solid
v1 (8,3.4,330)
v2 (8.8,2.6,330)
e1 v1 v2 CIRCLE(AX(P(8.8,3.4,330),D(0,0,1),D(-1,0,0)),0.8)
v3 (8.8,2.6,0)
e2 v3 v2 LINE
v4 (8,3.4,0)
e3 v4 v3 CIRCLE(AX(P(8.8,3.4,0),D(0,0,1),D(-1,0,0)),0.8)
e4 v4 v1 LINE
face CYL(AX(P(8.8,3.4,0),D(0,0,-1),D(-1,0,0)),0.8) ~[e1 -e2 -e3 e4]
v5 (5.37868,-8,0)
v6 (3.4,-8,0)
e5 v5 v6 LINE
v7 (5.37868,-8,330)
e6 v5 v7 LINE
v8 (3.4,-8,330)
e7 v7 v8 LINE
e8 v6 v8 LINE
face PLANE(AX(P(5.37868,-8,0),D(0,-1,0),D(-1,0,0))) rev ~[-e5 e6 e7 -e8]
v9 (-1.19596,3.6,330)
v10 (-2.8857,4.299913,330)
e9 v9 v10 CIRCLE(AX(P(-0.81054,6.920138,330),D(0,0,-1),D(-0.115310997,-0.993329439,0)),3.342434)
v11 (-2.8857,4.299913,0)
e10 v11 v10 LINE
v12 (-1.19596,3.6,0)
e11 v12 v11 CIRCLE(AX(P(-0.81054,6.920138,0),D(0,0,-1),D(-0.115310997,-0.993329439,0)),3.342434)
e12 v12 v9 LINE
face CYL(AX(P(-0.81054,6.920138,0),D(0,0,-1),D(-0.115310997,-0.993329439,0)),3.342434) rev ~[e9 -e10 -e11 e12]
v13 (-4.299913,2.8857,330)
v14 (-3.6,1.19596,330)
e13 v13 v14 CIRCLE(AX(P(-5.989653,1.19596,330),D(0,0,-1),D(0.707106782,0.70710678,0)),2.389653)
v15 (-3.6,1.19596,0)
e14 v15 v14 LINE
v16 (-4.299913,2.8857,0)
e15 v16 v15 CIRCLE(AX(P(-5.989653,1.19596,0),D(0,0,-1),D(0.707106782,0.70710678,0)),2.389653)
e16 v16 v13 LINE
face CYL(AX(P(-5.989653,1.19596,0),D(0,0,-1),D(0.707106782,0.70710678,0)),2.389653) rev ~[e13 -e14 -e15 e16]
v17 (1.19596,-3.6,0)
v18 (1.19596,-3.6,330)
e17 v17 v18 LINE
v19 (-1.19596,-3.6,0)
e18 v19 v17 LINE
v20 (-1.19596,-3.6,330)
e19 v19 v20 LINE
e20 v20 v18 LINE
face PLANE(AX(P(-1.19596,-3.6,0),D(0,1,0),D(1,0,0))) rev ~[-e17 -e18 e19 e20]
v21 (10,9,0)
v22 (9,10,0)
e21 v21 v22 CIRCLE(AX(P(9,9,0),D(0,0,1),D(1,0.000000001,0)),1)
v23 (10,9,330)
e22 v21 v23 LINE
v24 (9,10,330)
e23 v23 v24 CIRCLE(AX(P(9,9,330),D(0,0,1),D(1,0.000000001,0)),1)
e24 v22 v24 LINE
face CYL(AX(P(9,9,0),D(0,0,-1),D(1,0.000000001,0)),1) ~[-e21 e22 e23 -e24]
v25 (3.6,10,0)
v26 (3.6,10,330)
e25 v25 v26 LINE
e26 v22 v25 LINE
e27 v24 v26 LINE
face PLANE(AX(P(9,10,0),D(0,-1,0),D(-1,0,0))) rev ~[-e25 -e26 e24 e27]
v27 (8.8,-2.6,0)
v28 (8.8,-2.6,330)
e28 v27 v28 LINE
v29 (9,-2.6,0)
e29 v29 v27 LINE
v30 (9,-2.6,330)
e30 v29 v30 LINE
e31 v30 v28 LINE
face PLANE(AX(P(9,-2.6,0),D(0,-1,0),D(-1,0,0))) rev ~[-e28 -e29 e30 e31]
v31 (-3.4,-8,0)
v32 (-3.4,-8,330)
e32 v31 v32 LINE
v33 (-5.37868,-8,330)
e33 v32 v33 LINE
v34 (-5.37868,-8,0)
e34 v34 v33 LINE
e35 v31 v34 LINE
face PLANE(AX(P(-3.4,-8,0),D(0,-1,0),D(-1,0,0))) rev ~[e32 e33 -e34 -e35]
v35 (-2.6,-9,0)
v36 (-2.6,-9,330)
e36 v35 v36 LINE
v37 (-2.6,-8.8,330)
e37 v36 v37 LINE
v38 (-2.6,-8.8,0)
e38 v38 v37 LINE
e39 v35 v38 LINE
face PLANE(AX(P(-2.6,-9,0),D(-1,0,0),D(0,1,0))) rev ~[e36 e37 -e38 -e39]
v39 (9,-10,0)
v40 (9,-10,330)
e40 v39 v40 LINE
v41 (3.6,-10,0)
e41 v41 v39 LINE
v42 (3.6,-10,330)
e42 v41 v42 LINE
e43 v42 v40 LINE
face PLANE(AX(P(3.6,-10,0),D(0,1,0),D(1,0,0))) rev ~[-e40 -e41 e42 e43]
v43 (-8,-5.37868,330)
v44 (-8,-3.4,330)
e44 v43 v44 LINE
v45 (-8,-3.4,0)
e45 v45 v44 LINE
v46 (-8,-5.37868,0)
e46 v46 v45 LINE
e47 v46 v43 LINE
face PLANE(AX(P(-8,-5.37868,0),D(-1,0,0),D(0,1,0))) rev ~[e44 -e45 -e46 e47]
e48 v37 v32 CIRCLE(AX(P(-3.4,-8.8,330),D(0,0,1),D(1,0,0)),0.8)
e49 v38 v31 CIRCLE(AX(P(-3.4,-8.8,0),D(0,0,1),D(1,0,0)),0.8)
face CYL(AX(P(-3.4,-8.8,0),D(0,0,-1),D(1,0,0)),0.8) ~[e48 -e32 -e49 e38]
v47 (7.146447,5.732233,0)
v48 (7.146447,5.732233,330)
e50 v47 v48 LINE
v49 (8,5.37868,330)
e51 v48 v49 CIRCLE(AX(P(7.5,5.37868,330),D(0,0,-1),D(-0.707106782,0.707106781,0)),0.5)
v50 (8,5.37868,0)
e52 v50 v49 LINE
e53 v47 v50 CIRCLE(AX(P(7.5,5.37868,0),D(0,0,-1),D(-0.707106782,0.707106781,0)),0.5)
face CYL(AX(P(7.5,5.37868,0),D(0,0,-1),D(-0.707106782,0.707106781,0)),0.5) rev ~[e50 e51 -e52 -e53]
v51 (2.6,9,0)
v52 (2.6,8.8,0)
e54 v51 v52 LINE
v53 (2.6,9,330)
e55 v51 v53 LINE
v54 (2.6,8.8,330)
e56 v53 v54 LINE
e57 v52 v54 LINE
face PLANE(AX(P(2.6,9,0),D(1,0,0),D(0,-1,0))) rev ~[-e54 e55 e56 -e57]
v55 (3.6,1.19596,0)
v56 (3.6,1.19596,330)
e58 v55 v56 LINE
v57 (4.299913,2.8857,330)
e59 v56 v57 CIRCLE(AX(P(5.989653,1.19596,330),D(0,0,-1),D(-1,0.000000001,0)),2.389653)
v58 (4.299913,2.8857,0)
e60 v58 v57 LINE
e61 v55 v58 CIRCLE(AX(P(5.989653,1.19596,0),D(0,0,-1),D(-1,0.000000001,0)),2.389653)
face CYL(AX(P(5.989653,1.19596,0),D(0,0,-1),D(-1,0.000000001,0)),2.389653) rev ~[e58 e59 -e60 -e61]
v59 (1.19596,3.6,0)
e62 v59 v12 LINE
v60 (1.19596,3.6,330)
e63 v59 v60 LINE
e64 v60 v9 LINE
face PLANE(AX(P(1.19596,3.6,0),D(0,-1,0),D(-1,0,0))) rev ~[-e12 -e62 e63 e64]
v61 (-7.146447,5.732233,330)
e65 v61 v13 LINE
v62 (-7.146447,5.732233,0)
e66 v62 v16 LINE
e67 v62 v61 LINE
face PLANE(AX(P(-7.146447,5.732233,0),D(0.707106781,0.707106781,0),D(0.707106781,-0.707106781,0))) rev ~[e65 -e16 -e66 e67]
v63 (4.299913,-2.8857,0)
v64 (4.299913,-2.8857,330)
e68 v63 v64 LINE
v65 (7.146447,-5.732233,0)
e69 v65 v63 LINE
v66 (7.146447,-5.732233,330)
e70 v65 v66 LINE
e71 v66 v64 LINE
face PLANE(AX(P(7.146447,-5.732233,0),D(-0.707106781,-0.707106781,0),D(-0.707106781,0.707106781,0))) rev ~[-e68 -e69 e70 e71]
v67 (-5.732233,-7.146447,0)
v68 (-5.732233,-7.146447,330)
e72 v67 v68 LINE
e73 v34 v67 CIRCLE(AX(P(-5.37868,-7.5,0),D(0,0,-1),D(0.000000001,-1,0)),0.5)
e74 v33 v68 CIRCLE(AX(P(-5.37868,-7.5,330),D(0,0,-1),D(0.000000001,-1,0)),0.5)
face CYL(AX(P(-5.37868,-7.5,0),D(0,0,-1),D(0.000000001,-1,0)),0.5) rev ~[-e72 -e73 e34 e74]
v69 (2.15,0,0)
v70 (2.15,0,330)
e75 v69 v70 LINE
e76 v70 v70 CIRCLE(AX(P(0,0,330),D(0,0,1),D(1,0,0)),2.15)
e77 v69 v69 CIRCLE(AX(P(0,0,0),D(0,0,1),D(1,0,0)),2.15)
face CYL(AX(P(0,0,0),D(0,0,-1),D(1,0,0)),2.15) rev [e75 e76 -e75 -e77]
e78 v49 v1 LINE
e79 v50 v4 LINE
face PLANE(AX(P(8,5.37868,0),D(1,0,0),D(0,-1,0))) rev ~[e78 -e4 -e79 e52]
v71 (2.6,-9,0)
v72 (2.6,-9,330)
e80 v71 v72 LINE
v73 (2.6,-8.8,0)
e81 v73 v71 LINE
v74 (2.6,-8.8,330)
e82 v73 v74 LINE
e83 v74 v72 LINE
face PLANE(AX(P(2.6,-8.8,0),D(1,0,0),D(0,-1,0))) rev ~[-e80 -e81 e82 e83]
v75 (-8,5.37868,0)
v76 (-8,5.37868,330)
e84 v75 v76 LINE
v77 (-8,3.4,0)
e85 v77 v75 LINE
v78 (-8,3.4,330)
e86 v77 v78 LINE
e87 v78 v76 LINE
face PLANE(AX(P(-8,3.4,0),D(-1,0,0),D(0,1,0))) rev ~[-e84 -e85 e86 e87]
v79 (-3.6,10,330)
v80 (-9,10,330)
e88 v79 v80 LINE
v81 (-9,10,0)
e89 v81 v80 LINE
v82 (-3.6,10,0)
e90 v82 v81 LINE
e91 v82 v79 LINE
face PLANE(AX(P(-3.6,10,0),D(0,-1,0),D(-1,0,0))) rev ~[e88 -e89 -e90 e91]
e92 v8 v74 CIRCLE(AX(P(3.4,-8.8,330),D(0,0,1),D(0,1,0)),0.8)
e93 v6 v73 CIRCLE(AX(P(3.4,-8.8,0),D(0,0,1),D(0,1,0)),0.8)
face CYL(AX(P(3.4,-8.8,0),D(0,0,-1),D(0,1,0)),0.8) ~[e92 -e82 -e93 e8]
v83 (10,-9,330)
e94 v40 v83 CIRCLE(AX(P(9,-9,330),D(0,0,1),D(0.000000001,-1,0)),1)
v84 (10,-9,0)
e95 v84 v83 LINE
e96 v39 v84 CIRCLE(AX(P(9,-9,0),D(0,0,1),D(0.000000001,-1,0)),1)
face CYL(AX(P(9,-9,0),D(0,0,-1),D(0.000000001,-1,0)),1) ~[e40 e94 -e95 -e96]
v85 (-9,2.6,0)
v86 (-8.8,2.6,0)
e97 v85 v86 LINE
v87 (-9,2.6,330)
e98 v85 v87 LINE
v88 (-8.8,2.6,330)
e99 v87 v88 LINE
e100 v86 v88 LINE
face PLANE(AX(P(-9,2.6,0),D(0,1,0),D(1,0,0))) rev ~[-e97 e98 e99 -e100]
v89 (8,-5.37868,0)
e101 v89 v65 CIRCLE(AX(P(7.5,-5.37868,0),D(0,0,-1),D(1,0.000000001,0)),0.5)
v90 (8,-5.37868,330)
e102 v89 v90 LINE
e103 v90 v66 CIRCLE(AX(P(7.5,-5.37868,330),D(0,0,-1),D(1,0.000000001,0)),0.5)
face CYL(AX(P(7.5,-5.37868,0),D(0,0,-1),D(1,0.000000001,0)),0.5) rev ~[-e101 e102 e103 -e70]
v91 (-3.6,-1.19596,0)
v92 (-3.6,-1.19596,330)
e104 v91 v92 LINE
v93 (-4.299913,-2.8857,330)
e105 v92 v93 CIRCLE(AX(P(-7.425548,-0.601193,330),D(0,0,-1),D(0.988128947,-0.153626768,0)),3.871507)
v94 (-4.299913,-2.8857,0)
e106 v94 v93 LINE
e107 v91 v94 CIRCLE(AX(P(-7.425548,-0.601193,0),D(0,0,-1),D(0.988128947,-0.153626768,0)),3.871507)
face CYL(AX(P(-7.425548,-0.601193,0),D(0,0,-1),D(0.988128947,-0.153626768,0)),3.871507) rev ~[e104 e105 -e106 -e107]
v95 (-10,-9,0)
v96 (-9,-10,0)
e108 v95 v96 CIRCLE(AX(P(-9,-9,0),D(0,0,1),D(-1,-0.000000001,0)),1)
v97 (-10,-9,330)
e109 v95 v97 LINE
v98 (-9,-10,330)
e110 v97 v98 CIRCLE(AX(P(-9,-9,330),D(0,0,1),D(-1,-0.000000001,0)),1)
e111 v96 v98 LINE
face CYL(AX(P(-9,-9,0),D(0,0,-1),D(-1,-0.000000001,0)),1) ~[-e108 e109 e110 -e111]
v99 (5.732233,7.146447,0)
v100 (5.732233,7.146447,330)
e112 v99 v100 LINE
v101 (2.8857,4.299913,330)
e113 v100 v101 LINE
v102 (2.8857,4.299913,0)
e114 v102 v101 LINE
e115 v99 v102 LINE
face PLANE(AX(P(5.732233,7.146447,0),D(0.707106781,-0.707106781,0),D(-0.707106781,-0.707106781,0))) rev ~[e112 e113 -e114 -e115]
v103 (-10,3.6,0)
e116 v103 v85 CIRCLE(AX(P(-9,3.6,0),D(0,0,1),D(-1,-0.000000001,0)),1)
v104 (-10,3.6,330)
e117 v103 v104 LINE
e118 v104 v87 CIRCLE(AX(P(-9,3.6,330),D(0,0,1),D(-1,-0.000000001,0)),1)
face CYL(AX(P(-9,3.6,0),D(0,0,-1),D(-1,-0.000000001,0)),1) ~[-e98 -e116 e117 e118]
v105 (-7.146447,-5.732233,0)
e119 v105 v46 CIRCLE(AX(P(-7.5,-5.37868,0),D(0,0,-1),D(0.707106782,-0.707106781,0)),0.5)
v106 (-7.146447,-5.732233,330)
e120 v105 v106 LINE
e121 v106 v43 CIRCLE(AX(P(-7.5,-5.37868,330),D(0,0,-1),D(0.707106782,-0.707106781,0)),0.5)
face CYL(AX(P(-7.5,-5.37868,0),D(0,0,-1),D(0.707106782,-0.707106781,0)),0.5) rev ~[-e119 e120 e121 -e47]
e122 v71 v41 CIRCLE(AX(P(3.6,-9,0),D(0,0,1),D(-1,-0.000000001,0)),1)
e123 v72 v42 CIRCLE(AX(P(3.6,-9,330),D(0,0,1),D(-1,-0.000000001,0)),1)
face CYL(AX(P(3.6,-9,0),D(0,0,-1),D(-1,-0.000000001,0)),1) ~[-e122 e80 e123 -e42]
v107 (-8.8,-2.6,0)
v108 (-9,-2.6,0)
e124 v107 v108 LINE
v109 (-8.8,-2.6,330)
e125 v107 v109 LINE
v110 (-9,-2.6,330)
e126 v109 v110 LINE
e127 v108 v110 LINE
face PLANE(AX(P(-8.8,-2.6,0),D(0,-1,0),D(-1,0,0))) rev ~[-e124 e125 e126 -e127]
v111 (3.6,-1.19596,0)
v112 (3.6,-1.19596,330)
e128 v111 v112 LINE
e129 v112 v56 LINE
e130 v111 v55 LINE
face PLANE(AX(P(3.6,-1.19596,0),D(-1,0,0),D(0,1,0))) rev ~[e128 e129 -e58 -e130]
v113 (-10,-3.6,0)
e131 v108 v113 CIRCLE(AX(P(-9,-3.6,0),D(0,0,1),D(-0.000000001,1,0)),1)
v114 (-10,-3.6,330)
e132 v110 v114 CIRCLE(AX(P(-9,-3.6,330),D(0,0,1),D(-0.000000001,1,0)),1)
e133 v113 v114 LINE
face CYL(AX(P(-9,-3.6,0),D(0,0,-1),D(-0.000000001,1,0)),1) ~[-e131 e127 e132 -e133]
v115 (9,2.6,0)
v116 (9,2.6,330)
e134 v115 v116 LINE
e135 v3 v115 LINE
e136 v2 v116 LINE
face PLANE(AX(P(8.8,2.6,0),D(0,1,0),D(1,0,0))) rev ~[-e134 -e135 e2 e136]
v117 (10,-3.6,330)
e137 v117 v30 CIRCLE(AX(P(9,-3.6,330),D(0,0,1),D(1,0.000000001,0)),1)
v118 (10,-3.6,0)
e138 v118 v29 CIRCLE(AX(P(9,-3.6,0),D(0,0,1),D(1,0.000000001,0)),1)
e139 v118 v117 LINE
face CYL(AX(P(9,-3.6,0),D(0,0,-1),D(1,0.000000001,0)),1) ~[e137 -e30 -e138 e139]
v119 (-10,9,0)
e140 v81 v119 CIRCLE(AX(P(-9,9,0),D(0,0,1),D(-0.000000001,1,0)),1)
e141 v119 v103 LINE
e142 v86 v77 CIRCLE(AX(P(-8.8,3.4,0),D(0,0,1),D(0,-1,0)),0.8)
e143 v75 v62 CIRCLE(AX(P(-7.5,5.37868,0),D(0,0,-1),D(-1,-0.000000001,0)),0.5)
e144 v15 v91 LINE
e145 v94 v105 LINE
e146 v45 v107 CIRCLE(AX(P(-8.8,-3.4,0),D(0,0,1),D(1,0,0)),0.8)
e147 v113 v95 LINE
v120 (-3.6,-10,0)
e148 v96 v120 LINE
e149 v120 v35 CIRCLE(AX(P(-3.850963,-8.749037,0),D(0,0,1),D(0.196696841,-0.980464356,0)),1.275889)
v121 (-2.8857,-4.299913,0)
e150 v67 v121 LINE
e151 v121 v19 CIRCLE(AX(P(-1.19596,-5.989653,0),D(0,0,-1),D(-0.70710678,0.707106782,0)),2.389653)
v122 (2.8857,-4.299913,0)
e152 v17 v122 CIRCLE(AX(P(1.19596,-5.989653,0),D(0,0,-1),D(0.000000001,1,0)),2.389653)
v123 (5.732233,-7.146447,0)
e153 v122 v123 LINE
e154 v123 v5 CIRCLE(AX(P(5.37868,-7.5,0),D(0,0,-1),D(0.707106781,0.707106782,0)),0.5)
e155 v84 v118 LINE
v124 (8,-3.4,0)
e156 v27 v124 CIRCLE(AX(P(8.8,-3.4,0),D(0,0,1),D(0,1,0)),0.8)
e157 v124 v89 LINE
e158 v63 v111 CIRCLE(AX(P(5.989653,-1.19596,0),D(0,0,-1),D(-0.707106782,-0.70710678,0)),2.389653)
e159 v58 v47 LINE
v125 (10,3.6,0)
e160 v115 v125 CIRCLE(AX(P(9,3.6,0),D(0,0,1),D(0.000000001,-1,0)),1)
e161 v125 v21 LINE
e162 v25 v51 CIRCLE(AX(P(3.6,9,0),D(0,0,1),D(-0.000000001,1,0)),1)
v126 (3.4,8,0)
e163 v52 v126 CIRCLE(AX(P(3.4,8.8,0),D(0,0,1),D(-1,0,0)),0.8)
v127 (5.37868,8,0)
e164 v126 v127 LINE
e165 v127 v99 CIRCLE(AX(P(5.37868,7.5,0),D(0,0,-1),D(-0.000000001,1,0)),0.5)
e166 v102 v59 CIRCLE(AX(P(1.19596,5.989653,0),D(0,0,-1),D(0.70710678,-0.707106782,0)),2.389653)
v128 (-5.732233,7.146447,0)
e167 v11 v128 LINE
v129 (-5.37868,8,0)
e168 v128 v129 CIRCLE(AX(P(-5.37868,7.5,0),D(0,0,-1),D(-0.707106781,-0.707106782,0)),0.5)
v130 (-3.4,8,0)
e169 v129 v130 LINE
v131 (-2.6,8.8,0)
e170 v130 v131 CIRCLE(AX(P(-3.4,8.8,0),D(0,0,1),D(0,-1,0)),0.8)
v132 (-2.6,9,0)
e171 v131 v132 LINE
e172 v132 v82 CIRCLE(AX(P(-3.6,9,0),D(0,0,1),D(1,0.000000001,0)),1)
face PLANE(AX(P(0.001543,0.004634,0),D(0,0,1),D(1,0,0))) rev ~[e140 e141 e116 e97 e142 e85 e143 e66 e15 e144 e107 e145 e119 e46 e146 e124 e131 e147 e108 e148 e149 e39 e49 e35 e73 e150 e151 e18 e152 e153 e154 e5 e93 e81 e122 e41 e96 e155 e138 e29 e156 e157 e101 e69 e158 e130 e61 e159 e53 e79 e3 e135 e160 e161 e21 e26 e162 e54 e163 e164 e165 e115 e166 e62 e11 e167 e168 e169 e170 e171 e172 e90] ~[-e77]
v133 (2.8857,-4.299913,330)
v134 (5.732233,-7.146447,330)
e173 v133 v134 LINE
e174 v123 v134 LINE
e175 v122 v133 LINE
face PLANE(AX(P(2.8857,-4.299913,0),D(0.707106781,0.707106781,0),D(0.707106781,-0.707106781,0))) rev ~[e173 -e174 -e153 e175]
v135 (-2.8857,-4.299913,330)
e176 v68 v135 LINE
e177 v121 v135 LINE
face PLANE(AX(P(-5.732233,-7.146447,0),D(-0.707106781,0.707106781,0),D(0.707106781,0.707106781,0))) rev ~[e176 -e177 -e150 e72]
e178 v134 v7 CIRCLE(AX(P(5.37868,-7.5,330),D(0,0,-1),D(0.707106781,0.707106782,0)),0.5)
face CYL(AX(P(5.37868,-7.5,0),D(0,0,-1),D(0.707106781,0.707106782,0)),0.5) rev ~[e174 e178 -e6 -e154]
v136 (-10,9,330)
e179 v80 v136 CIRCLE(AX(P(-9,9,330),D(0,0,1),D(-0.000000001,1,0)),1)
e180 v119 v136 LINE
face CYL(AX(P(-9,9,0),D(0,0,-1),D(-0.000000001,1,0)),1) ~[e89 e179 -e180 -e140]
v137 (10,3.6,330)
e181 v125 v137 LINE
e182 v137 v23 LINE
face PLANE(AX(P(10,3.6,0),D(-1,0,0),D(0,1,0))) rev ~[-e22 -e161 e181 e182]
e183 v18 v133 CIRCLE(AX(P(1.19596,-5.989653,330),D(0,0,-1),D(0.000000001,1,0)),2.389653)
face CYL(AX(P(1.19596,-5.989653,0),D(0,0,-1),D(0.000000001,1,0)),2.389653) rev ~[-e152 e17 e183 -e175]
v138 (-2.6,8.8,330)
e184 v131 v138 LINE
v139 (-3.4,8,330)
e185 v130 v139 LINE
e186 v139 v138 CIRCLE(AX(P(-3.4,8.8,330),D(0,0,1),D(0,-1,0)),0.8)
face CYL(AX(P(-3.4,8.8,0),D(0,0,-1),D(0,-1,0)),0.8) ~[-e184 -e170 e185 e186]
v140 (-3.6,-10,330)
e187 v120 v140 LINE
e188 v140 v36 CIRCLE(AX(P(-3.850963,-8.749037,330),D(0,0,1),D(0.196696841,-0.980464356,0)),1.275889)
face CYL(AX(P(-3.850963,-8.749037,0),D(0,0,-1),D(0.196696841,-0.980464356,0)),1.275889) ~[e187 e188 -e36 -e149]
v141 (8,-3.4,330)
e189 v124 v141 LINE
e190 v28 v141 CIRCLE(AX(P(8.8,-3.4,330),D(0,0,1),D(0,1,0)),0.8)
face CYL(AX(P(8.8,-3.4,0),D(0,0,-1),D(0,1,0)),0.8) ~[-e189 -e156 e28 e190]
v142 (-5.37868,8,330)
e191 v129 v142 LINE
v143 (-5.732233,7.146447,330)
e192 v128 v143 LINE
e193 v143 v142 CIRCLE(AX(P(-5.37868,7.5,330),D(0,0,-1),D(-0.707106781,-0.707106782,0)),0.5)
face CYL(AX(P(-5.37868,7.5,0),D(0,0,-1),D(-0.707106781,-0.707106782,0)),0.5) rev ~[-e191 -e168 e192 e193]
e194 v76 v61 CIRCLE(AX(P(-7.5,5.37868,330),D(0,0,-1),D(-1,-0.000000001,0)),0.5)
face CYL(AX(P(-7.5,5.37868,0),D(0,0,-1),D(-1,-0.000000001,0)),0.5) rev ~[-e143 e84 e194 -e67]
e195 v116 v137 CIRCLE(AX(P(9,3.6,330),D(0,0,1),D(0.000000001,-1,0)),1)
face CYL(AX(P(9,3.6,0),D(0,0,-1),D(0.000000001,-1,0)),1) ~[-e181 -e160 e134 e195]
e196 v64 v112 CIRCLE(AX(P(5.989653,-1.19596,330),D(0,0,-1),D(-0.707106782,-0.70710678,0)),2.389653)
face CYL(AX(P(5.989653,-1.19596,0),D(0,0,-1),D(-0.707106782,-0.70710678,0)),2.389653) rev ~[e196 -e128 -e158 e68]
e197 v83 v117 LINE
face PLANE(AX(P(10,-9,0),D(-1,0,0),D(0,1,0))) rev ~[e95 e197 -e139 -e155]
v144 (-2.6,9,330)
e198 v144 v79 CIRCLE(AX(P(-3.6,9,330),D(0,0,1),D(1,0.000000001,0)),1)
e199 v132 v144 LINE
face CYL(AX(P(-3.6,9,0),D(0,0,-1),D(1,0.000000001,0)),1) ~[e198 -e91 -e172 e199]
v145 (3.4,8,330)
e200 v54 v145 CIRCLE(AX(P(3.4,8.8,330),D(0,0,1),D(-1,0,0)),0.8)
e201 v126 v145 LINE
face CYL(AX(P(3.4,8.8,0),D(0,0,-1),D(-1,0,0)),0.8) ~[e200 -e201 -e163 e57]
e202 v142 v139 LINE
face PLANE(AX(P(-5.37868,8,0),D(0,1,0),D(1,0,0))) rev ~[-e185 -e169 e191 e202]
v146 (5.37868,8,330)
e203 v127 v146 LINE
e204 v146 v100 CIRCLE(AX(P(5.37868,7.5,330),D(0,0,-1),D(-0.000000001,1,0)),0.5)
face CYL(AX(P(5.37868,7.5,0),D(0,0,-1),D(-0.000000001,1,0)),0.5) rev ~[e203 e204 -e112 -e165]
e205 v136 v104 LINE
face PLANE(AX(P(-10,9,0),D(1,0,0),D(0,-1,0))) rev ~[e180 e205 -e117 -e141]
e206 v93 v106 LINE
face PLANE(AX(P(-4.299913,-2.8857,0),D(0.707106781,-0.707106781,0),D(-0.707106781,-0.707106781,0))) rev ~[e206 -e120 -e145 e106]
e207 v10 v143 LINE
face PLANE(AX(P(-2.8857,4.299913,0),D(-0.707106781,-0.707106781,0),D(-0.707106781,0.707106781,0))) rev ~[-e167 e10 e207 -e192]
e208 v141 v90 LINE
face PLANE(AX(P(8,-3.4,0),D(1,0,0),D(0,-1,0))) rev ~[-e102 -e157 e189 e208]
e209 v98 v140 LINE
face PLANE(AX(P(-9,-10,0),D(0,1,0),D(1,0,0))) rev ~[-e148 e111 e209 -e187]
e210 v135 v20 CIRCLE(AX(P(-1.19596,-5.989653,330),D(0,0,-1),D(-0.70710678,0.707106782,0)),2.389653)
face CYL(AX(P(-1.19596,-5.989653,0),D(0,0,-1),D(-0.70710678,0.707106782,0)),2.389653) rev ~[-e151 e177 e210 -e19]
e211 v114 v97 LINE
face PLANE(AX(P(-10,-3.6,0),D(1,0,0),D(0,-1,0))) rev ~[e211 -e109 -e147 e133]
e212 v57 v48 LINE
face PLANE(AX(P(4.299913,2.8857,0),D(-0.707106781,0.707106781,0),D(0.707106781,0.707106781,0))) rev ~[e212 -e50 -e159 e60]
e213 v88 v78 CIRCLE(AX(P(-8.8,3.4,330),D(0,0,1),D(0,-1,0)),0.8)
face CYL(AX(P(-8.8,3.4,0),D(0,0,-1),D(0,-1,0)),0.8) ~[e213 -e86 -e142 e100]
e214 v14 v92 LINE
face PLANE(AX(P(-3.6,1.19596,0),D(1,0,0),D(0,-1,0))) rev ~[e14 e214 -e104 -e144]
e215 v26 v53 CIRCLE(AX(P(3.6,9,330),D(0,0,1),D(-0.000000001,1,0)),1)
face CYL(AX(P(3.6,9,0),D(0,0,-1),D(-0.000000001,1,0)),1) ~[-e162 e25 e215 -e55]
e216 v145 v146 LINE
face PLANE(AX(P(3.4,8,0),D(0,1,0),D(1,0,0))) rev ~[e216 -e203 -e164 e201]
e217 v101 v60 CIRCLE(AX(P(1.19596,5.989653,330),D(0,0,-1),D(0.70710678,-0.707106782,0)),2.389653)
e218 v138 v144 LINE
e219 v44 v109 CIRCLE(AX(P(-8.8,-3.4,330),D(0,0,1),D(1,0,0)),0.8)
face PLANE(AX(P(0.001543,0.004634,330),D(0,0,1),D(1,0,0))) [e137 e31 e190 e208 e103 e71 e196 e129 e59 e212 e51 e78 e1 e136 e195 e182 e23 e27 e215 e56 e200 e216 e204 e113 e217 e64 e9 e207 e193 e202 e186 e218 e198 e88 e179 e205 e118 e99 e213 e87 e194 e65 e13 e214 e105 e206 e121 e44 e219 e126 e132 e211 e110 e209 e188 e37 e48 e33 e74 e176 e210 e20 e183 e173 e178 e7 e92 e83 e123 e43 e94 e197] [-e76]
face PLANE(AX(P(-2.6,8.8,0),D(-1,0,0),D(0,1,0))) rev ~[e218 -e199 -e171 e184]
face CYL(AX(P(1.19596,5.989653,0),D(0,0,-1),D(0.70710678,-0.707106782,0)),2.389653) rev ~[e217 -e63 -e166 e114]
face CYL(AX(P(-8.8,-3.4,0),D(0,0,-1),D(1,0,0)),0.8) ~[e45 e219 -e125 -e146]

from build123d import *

# Parameters (mm, degrees)
ESQUISSE1_R        = 2.15
BOSS_EXTRU_1_DEPTH = 330


with BuildPart() as part:
    # Esquisse1 → Boss.-Extru.1 (new body)
    with BuildSketch(Plane.XY):
        with BuildLine():
            Line((-2.88569967, 4.299913232), (-5.732233047, 7.146446609))
            ThreePointArc((-5.732233047, 7.146446609), (-5.840619423, 7.691341716), (-5.378679656, 8))
            Line((-5.378679656, 8), (-3.4, 8))
            ThreePointArc((-3.4, 8), (-2.834314575, 8.234314575), (-2.6, 8.8))
            Line((-2.6, 8.8), (-2.6, 9))
            ThreePointArc((-2.6, 9), (-2.892893219, 9.707106781), (-3.6, 10))
            Line((-3.6, 10), (-9, 10))
            ThreePointArc((-9, 10), (-9.707106781, 9.707106781), (-10, 9))
            Line((-10, 9), (-10, 3.6))
            ThreePointArc((-10, 3.6), (-9.707106781, 2.892893219), (-9, 2.6))
            Line((-9, 2.6), (-8.8, 2.6))
            ThreePointArc((-8.8, 2.6), (-8.234314575, 2.834314575), (-8, 3.4))
            Line((-8, 3.4), (-8, 5.378679656))
            ThreePointArc((-8, 5.378679656), (-7.691341716, 5.840619423), (-7.146446609, 5.732233047))
            Line((-7.146446609, 5.732233047), (-4.299913232, 2.88569967))
            ThreePointArc((-4.299913232, 2.88569967), (-3.781901523, 2.11044036), (-3.6, 1.195959652))
            Line((-3.6, 1.195959652), (-3.6, -1.195959652))
            ThreePointArc((-3.6, -1.195959652), (-3.848742051, -2.082754106), (-4.299913232, -2.88569967))
            Line((-4.299913232, -2.88569967), (-7.146446609, -5.732233047))
            ThreePointArc((-7.146446609, -5.732233047), (-7.691341716, -5.840619423), (-8, -5.378679656))
            Line((-8, -5.378679656), (-8, -3.4))
            ThreePointArc((-8, -3.4), (-8.234314575, -2.834314575), (-8.8, -2.6))
            Line((-8.8, -2.6), (-9, -2.6))
            ThreePointArc((-9, -2.6), (-9.707106781, -2.892893219), (-10, -3.6))
            Line((-10, -3.6), (-10, -9))
            ThreePointArc((-10, -9), (-9.707106781, -9.707106781), (-9, -10))
            Line((-9, -10), (-3.6, -10))
            ThreePointArc((-3.6, -10), (-2.9487738, -9.6512262), (-2.6, -9))
            Line((-2.6, -9), (-2.6, -8.8))
            ThreePointArc((-2.6, -8.8), (-2.834314575, -8.234314575), (-3.4, -8))
            Line((-3.4, -8), (-5.378679656, -8))
            ThreePointArc((-5.378679656, -8), (-5.840619423, -7.691341716), (-5.732233047, -7.146446609))
            Line((-5.732233047, -7.146446609), (-2.88569967, -4.299913232))
            ThreePointArc((-2.88569967, -4.299913232), (-2.11044036, -3.781901523), (-1.195959652, -3.6))
            Line((-1.195959652, -3.6), (1.195959652, -3.6))
            ThreePointArc((1.195959652, -3.6), (2.11044036, -3.781901523), (2.88569967, -4.299913232))
            Line((2.88569967, -4.299913232), (5.732233047, -7.146446609))
            ThreePointArc((5.732233047, -7.146446609), (5.840619423, -7.691341716), (5.378679656, -8))
            Line((5.378679656, -8), (3.4, -8))
            ThreePointArc((3.4, -8), (2.834314575, -8.234314575), (2.6, -8.8))
            Line((2.6, -8.8), (2.6, -9))
            ThreePointArc((2.6, -9), (2.892893219, -9.707106781), (3.6, -10))
            Line((3.6, -10), (9, -10))
            ThreePointArc((9, -10), (9.707106781, -9.707106781), (10, -9))
            Line((10, -9), (10, -3.6))
            ThreePointArc((10, -3.6), (9.707106781, -2.892893219), (9, -2.6))
            Line((9, -2.6), (8.8, -2.6))
            ThreePointArc((8.8, -2.6), (8.234314575, -2.834314575), (8, -3.4))
            Line((8, -3.4), (8, -5.378679656))
            ThreePointArc((8, -5.378679656), (7.691341716, -5.840619423), (7.146446609, -5.732233047))
            Line((7.146446609, -5.732233047), (4.299913232, -2.88569967))
            ThreePointArc((4.299913232, -2.88569967), (3.781901523, -2.11044036), (3.6, -1.195959652))
            Line((3.6, -1.195959652), (3.6, 1.195959652))
            ThreePointArc((3.6, 1.195959652), (3.781901523, 2.11044036), (4.299913232, 2.88569967))
            Line((4.299913232, 2.88569967), (7.146446609, 5.732233047))
            ThreePointArc((7.146446609, 5.732233047), (7.691341716, 5.840619423), (8, 5.378679656))
            Line((8, 5.378679656), (8, 3.4))
            ThreePointArc((8, 3.4), (8.234314575, 2.834314575), (8.8, 2.6))
            Line((8.8, 2.6), (9, 2.6))
            ThreePointArc((9, 2.6), (9.707106781, 2.892893219), (10, 3.6))
            Line((10, 3.6), (10, 9))
            ThreePointArc((10, 9), (9.707106781, 9.707106781), (9, 10))
            Line((9, 10), (3.6, 10))
            ThreePointArc((3.6, 10), (2.892893219, 9.707106781), (2.6, 9))
            Line((2.6, 9), (2.6, 8.8))
            ThreePointArc((2.6, 8.8), (2.834314575, 8.234314575), (3.4, 8))
            Line((3.4, 8), (5.378679656, 8))
            ThreePointArc((5.378679656, 8), (5.840619423, 7.691341716), (5.732233047, 7.146446609))
            Line((5.732233047, 7.146446609), (2.88569967, 4.299913232))
            ThreePointArc((2.88569967, 4.299913232), (2.11044036, 3.781901523), (1.195959652, 3.6))
            Line((1.195959652, 3.6), (-1.195959652, 3.6))
            ThreePointArc((-1.195959652, 3.6), (-2.089634332, 3.832131718), (-2.88569967, 4.299913232))
        make_face()
        Circle(ESQUISSE1_R, mode=Mode.SUBTRACT)
    extrude(amount=BOSS_EXTRU_1_DEPTH)


solid = part.part
